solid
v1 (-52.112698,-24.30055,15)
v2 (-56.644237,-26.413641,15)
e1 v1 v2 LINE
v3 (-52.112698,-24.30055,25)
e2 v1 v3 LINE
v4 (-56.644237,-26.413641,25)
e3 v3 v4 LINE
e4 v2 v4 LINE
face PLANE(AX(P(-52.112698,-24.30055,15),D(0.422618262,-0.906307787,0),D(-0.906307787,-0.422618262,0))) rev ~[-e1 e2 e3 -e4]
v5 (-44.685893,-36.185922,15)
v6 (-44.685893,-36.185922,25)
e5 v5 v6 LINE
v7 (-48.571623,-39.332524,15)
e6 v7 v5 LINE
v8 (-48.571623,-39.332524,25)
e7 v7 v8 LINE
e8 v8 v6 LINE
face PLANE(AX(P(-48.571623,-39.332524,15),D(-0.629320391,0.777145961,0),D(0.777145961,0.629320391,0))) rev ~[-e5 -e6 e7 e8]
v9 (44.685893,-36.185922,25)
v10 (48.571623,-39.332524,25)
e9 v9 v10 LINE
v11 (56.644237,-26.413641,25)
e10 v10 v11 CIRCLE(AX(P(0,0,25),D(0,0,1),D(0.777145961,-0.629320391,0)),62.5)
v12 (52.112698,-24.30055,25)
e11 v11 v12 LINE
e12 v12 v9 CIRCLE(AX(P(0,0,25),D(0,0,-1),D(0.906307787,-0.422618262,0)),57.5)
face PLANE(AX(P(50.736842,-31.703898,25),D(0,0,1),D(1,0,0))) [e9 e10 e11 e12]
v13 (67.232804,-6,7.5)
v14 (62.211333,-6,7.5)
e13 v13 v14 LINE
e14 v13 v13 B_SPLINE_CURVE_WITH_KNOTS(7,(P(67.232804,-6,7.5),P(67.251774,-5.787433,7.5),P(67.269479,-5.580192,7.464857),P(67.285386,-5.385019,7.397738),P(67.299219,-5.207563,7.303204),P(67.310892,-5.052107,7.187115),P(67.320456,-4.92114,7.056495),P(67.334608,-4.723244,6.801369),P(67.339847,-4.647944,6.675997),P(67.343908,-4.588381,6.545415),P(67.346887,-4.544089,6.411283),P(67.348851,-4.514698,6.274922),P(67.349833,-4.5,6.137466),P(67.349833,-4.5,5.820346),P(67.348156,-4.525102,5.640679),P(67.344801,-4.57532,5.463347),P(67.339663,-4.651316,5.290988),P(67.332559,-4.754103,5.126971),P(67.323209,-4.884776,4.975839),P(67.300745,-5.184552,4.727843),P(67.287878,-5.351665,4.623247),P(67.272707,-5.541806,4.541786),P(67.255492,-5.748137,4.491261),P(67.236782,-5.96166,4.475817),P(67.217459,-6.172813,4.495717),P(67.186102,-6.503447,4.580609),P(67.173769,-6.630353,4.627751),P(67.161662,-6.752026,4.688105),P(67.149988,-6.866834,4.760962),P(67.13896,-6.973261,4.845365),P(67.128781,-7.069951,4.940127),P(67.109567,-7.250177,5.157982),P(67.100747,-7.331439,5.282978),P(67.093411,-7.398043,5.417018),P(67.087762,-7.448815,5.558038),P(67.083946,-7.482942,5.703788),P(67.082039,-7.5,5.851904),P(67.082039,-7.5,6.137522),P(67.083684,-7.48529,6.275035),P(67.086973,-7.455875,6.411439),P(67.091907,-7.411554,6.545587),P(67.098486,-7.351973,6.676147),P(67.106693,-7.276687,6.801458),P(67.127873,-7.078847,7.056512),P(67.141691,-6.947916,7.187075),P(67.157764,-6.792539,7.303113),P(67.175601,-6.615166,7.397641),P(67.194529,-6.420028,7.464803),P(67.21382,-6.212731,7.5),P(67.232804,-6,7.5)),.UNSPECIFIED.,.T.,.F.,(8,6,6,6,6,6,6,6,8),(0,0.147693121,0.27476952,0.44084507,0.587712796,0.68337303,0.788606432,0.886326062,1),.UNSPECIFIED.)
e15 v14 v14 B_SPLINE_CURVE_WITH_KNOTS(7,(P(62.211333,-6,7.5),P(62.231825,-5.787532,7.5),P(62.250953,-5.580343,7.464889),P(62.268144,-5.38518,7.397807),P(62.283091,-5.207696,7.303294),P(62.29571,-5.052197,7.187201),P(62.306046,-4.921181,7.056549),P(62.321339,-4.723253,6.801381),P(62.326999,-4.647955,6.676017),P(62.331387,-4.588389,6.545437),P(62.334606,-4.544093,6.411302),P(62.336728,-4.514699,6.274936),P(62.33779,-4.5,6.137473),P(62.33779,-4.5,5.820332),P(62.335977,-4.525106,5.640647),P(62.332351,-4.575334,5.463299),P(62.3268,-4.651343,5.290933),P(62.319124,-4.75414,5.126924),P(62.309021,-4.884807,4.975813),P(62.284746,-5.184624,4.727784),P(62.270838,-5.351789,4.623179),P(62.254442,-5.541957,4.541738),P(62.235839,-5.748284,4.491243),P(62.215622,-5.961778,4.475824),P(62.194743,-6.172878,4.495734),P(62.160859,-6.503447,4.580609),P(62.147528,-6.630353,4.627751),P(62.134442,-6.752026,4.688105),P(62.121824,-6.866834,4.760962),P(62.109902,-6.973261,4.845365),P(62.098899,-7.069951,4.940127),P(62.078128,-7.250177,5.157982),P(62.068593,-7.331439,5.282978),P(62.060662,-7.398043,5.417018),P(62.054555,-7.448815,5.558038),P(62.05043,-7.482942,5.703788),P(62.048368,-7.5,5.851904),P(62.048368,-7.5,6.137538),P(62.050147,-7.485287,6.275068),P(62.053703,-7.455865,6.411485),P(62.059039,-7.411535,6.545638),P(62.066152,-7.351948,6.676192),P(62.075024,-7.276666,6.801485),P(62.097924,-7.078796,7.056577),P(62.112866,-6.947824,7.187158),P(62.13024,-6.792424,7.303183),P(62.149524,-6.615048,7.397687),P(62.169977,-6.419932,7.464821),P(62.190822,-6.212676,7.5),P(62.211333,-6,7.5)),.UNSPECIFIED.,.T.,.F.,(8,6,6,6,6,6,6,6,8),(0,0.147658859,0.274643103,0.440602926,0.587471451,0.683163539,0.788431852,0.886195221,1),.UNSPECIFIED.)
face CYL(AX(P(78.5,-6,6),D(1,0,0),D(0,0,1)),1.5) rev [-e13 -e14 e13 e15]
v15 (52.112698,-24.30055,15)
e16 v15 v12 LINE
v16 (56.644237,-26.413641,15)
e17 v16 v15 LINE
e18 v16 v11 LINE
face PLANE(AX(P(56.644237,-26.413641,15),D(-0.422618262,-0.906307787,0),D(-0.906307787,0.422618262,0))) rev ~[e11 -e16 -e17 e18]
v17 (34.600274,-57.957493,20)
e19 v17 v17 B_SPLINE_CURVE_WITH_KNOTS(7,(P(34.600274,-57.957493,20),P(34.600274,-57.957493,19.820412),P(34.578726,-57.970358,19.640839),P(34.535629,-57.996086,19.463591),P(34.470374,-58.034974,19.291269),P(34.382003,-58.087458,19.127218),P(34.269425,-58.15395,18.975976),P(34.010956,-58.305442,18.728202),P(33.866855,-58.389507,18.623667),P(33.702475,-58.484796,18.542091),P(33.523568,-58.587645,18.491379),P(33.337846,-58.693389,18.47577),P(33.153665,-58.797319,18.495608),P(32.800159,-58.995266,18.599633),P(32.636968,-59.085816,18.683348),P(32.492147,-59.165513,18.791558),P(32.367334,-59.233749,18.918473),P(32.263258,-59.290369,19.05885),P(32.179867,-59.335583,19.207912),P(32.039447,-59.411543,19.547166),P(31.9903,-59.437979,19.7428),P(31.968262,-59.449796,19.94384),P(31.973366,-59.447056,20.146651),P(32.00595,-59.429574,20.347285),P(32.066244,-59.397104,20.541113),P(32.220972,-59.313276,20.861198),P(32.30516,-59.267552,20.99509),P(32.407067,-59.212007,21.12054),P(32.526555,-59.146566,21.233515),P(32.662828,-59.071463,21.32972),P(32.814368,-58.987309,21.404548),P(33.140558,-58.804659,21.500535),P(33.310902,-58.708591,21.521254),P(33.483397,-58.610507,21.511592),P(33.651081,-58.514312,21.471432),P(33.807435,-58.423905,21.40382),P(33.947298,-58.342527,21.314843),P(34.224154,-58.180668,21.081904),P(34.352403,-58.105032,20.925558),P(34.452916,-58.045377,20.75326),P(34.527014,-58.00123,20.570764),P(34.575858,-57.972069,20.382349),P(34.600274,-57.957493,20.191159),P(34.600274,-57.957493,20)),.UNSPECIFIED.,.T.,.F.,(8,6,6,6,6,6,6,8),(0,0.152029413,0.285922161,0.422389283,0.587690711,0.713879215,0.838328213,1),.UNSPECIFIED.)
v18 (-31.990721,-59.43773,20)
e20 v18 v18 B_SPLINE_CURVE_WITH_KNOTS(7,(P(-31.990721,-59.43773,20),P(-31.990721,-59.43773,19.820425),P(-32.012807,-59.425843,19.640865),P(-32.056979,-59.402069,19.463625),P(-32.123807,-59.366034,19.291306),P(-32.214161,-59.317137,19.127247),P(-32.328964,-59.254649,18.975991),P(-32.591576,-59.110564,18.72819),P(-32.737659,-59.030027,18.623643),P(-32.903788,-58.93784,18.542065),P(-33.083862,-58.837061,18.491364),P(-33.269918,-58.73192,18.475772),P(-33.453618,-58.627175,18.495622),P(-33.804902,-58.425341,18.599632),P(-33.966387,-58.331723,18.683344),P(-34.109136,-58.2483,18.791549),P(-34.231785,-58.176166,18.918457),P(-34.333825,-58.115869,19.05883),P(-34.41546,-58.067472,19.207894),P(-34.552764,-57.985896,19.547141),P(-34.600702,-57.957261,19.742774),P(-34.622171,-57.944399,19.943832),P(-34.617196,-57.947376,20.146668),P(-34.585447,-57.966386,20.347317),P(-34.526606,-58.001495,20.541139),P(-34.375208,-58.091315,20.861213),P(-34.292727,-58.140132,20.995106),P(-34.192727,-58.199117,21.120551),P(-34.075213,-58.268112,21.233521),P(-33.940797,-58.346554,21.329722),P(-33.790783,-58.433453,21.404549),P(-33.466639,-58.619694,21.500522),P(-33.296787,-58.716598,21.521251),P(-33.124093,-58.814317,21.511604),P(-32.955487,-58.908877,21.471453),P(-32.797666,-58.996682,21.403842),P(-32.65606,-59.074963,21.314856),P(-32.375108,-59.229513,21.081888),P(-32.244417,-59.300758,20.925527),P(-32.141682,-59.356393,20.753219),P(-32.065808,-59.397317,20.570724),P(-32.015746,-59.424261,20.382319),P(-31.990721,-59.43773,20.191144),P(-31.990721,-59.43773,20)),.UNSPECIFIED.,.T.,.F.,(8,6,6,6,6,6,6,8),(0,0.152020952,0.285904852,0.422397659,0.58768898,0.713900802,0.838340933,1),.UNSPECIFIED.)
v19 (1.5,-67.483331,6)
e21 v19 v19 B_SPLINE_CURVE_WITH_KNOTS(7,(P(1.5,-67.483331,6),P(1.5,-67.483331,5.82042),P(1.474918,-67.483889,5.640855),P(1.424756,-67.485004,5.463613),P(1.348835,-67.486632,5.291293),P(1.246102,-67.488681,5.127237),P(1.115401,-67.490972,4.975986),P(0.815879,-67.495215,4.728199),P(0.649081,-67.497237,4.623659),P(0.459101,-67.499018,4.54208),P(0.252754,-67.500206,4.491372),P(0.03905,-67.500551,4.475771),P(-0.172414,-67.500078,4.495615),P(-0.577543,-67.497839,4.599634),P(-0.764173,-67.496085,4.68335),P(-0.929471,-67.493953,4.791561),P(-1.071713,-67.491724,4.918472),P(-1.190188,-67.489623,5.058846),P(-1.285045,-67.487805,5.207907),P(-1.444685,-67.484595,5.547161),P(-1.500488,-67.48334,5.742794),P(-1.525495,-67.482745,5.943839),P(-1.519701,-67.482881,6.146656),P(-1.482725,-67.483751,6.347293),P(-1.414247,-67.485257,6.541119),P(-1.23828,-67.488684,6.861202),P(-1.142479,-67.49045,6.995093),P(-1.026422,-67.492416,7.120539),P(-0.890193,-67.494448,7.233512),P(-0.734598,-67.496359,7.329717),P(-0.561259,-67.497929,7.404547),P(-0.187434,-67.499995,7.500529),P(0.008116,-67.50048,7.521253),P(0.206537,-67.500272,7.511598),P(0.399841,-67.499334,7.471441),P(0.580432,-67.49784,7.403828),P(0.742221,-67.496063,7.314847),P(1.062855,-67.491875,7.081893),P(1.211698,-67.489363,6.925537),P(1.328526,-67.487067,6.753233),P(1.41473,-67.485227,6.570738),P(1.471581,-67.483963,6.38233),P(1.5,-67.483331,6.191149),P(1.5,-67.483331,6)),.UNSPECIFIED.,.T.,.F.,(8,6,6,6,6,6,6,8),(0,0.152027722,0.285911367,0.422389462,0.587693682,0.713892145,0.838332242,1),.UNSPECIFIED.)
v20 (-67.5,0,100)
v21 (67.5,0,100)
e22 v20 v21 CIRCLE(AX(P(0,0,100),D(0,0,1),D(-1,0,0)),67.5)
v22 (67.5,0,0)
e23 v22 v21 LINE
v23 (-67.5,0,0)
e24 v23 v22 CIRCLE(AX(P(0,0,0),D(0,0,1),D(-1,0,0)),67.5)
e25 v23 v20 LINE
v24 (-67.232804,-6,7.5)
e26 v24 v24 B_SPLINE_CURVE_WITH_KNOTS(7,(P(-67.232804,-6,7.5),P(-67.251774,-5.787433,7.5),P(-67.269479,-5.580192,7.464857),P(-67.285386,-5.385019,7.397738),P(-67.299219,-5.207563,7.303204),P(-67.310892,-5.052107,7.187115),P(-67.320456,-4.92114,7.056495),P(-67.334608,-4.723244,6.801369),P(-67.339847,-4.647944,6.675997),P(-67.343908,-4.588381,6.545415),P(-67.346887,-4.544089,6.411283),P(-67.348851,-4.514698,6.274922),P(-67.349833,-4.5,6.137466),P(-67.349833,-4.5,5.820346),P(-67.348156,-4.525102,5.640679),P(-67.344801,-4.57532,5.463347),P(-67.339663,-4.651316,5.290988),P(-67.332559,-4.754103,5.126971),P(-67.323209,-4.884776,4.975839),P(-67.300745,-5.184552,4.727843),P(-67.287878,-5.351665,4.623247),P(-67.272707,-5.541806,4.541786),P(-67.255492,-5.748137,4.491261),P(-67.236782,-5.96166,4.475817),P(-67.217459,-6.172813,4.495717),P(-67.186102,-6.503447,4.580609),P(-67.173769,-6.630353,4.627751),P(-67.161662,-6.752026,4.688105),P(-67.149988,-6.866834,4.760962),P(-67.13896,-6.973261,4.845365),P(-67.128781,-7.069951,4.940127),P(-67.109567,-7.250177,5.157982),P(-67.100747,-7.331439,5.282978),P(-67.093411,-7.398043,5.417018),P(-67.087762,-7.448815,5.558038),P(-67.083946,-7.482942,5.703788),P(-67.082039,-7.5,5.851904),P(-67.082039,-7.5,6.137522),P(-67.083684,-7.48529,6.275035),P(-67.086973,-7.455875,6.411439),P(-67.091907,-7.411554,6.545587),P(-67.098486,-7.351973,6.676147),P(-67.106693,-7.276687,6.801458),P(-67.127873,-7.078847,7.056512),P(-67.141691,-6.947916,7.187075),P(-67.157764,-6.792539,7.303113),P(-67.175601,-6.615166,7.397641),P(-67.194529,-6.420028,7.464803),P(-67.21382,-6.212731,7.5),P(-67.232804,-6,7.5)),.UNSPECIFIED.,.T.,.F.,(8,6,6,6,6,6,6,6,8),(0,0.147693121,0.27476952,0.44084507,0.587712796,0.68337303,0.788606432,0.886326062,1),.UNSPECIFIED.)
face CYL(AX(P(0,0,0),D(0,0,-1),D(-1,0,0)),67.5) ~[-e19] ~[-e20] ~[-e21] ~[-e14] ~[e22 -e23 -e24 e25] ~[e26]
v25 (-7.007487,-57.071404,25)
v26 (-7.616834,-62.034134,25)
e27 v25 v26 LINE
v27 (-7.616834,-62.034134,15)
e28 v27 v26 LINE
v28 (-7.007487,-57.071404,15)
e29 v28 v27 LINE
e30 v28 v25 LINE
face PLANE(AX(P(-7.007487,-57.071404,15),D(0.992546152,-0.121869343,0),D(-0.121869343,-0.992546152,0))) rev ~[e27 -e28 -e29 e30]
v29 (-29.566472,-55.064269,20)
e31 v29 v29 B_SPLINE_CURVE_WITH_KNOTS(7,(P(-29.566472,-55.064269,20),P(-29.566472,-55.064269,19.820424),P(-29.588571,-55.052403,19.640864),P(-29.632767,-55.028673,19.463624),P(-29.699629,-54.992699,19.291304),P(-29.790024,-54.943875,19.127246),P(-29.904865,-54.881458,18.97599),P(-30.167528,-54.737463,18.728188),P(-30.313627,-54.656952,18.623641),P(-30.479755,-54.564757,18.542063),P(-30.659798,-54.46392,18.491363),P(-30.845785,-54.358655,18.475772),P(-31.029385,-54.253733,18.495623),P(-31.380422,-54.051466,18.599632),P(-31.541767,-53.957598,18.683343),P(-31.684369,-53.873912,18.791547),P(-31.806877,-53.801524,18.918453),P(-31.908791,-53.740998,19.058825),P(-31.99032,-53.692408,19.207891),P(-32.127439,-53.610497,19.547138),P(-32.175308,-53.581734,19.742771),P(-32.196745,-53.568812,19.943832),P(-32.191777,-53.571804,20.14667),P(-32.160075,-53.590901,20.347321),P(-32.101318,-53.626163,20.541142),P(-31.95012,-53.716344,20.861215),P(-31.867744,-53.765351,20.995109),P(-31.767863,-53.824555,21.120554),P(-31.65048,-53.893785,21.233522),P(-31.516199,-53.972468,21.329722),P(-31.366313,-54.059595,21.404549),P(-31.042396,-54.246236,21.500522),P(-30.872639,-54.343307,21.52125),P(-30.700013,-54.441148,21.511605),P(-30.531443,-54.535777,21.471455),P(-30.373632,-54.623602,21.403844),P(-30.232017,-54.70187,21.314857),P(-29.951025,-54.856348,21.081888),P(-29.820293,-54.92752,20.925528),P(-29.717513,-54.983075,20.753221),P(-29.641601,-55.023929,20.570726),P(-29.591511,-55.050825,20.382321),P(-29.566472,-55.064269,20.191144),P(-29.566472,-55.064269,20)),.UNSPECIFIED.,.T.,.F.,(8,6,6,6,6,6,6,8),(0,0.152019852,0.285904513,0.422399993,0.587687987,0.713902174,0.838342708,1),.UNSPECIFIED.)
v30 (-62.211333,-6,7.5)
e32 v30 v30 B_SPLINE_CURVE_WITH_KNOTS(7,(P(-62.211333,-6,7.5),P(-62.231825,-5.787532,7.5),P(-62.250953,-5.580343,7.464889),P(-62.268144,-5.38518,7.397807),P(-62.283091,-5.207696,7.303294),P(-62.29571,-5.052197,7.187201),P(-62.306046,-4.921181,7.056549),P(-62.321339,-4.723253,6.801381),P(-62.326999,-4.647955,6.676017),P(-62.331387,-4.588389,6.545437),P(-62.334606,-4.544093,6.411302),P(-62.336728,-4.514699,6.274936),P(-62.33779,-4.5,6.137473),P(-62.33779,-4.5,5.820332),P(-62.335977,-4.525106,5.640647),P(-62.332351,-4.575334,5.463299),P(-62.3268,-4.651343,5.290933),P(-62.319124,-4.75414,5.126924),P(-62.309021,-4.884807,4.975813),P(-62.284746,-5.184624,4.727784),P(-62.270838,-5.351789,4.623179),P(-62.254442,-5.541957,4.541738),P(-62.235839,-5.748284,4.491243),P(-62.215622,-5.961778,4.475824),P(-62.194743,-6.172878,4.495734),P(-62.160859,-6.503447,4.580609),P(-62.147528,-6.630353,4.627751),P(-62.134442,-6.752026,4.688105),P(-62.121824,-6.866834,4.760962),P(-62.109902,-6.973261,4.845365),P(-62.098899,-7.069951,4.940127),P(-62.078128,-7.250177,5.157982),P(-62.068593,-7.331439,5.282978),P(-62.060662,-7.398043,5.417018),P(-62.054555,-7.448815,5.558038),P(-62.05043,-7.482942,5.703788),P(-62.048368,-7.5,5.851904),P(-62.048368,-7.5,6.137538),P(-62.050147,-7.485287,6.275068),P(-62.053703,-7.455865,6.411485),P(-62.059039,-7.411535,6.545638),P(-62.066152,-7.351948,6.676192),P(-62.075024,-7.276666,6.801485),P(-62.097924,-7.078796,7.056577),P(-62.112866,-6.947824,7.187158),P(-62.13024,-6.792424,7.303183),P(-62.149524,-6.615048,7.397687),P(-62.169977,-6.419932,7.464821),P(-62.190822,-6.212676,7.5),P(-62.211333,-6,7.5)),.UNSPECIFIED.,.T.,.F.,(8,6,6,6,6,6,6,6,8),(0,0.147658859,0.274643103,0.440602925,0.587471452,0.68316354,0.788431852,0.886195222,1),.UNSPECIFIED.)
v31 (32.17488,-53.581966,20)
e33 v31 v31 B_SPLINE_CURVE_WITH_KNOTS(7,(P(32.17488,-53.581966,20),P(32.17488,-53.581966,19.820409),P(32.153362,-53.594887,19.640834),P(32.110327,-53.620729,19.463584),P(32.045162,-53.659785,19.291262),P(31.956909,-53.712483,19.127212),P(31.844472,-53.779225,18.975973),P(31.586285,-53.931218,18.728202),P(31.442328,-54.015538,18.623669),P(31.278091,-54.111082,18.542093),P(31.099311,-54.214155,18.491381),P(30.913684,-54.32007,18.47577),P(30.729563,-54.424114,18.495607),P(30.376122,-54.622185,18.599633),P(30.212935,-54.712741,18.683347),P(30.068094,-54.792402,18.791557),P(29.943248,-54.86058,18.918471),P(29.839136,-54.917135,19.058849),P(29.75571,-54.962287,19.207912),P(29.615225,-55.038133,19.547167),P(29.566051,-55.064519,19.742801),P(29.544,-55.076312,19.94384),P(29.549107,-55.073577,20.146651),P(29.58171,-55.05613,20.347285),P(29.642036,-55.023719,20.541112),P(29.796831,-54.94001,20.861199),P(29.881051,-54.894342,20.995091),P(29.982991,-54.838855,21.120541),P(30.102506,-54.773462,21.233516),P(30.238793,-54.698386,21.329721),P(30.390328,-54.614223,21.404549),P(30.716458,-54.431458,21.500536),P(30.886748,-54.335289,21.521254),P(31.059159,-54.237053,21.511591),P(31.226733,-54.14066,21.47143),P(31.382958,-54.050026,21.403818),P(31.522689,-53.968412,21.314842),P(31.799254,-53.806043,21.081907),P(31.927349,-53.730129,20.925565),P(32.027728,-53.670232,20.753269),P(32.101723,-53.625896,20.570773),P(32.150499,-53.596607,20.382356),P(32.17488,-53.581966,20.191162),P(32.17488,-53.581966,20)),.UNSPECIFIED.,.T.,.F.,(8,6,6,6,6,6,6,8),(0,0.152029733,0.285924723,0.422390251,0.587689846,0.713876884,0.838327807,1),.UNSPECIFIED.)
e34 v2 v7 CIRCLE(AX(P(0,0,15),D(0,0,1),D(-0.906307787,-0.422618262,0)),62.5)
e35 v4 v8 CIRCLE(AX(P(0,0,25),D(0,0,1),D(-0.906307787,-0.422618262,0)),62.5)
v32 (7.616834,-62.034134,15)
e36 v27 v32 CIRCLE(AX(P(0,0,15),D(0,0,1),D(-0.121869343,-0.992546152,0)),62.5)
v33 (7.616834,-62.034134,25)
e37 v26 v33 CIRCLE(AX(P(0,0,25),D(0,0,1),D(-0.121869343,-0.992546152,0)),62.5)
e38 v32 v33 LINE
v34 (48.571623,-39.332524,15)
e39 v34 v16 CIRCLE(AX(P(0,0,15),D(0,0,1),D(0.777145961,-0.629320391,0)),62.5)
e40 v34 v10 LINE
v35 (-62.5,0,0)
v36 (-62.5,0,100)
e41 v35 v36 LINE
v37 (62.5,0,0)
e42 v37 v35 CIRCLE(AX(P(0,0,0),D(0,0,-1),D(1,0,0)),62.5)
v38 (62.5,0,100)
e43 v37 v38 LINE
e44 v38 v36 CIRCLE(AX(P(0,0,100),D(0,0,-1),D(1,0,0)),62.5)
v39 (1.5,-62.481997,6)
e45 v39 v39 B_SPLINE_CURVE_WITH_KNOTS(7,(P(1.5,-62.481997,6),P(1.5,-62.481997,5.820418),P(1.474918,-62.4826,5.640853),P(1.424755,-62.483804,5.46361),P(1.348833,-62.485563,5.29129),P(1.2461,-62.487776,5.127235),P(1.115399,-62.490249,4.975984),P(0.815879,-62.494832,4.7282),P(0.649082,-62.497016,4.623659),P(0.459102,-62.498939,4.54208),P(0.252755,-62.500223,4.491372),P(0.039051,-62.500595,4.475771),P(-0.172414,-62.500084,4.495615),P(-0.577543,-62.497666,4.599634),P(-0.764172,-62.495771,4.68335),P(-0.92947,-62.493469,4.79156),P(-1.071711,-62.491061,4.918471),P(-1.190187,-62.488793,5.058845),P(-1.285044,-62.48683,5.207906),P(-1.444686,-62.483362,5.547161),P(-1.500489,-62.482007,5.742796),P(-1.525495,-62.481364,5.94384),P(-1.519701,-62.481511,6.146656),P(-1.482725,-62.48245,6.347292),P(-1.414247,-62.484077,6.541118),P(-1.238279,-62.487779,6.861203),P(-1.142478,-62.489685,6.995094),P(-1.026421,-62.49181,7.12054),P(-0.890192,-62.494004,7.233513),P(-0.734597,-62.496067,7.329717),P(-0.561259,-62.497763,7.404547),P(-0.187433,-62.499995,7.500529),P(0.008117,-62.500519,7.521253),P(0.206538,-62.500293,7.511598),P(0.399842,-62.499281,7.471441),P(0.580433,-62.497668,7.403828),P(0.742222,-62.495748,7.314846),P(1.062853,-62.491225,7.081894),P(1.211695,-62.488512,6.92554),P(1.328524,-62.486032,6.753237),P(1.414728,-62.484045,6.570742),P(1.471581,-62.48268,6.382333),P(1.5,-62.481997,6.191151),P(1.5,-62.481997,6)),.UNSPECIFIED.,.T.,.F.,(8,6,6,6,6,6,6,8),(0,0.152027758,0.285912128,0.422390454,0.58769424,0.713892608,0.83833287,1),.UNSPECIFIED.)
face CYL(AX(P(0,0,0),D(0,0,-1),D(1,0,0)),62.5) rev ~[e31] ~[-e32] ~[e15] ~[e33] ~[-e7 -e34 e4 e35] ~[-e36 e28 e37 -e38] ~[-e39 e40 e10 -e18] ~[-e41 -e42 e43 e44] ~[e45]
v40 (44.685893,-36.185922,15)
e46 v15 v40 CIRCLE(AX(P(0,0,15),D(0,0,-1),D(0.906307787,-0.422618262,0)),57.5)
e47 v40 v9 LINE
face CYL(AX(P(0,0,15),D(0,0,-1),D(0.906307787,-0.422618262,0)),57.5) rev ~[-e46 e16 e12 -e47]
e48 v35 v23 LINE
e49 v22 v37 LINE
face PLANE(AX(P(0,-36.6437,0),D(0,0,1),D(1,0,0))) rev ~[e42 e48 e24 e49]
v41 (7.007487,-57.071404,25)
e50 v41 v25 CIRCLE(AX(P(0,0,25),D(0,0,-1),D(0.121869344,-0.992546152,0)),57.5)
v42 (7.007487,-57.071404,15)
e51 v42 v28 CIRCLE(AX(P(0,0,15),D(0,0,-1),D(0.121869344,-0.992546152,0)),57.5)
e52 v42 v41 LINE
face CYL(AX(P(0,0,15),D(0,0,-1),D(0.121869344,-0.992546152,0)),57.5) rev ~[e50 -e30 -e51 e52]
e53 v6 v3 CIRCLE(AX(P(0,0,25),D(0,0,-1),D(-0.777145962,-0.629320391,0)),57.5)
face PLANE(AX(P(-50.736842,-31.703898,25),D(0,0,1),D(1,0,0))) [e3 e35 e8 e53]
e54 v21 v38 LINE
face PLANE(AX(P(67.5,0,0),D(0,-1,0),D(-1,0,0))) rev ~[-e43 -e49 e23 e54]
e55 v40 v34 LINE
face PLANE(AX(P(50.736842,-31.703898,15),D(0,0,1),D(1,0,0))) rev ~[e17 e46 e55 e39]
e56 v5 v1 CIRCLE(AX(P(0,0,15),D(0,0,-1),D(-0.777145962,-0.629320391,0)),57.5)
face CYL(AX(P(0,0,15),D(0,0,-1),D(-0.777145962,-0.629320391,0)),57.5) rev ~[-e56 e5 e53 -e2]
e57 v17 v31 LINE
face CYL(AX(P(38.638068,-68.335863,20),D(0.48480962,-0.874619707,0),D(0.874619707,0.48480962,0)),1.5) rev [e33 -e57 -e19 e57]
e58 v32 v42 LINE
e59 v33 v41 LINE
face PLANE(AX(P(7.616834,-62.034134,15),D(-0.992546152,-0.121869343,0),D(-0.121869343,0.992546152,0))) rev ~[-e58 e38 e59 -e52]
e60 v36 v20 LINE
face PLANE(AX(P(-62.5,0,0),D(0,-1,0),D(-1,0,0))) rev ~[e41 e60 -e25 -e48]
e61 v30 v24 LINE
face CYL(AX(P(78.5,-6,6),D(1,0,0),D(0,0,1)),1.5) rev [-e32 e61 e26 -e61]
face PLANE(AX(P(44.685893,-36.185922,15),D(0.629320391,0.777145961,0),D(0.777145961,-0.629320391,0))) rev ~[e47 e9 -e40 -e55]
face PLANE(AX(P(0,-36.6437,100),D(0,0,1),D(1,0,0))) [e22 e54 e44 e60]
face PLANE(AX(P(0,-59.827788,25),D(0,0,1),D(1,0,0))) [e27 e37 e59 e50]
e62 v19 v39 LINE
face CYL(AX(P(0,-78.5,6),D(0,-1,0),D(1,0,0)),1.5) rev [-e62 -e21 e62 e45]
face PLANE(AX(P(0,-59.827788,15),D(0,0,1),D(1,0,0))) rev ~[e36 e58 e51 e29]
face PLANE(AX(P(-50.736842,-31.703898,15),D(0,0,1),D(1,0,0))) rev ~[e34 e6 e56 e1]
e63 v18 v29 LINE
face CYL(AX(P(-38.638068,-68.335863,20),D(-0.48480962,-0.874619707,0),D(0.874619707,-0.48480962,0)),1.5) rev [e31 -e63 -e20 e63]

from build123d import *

# Parameters (mm, degrees)
BOSS_EXTRUDE1_DEPTH     = 100
BOSS_EXTRUDE3_DEPTH     = 10
CUT_EXTRUDE1_DEPTH      = 149
CUT_EXTRUDE1_DEPTH_BACK = 16
SKETCH4_R               = 1.5
CUT_EXTRUDE2_DEPTH      = 16
CUT_EXTRUDE2_DEPTH_BACK = 16
SKETCH5_R               = 1.5
CUT_EXTRUDE3_DEPTH      = 16
CUT_EXTRUDE3_DEPTH_BACK = 16
SKETCH6_R               = 1.5
CUT_EXTRUDE4_DEPTH      = 16
CUT_EXTRUDE4_DEPTH_BACK = 16
SKETCH7_R               = 1.5


with BuildPart() as part:
    # Sketch1 → Boss-Extrude1 (new body)
    with BuildSketch(Plane.XY):
        with BuildLine():
            ThreePointArc((62.5, 0), (0, -62.5), (-62.5, 0))
            Line((-62.5, 0), (-67.5, 0))
            ThreePointArc((-67.5, 0), (0, -67.5), (67.5, 0))
            Line((67.5, 0), (62.5, 0))
        make_face()
    extrude(amount=BOSS_EXTRUDE1_DEPTH)

    # Sketch3 → Boss-Extrude3 (add)
    with BuildSketch(Plane.XY.offset(15)):
        with BuildLine():
            Line((-52.112697755, -24.30055005), (-56.64423669, -26.413641359))
            ThreePointArc((-56.64423669, -26.413641359), (-53.00300601, -33.119954015), (-48.571622591, -39.332524441))
            Line((-48.571622591, -39.332524441), (-44.685892784, -36.185922485))
            ThreePointArc((-44.685892784, -36.185922485), (-48.762765529, -30.470357693), (-52.112697755, -24.30055005))
        make_face()
        with BuildLine():
            ThreePointArc((48.571622591, -39.332524441), (53.00300601, -33.119954015), (56.64423669, -26.413641359))
            Line((56.64423669, -26.413641359), (52.112697755, -24.30055005))
            ThreePointArc((52.112697755, -24.30055005), (48.762765529, -30.470357693), (44.685892784, -36.185922485))
            Line((44.685892784, -36.185922485), (48.571622591, -39.332524441))
        make_face()
        with BuildLine():
            Line((-7.007487246, -57.071403719), (-7.616833963, -62.034134478))
            ThreePointArc((-7.616833963, -62.034134478), (0, -62.5), (7.616833963, -62.034134478))
            Line((7.616833963, -62.034134478), (7.007487246, -57.071403719))
            ThreePointArc((7.007487246, -57.071403719), (0, -57.5), (-7.007487246, -57.071403719))
        make_face()
    extrude(amount=BOSS_EXTRUDE3_DEPTH)

    # Sketch4 → Cut-Extrude1 (cut, two sides: drawn at the far end of the back side and taken through both)
    with BuildSketch(Plane.ZY.offset(-62.5).offset(-CUT_EXTRUDE1_DEPTH_BACK)):
        with Locations((6, -6)):
            Circle(SKETCH4_R)
    extrude(amount=CUT_EXTRUDE1_DEPTH + CUT_EXTRUDE1_DEPTH_BACK, mode=Mode.SUBTRACT)

    # Sketch5 → Cut-Extrude2 (cut, two sides: drawn at the far end of the back side and taken through both)
    with BuildSketch(Plane(origin=(0, -62.5, 0), x_dir=(1, 0, 0), z_dir=(0, 1, 0)).offset(-CUT_EXTRUDE2_DEPTH_BACK)):
        with Locations((0, -6)):
            Circle(SKETCH5_R)
    extrude(amount=CUT_EXTRUDE2_DEPTH + CUT_EXTRUDE2_DEPTH_BACK, mode=Mode.SUBTRACT)

    # Sketch6 → Cut-Extrude3 (cut, two sides: drawn at the far end of the back side and taken through both)
    with BuildSketch(Plane(origin=(-30.300601265, -54.663731696, 0), x_dir=(0.8746197071393957, -0.48480962024633734, 0), z_dir=(0.48480962024633734, 0.8746197071393957, 0)).offset(-CUT_EXTRUDE3_DEPTH_BACK)):
        with Locations((-0.663731696, -20)):
            Circle(SKETCH6_R)
    extrude(amount=CUT_EXTRUDE3_DEPTH + CUT_EXTRUDE3_DEPTH_BACK, mode=Mode.SUBTRACT)

    # Sketch7 → Cut-Extrude4 (cut, two sides: drawn at the far end of the back side and taken through both)
    with BuildSketch(Plane(origin=(30.300601265, -54.663731696, 0), x_dir=(0.8746197071393963, 0.4848096202463363, 0), z_dir=(-0.4848096202463362, 0.8746197071393962, 0)).offset(-CUT_EXTRUDE4_DEPTH_BACK)):
        with Locations((0.663731696, -20)):
            Circle(SKETCH7_R)
    extrude(amount=CUT_EXTRUDE4_DEPTH + CUT_EXTRUDE4_DEPTH_BACK, mode=Mode.SUBTRACT)


solid = part.part
